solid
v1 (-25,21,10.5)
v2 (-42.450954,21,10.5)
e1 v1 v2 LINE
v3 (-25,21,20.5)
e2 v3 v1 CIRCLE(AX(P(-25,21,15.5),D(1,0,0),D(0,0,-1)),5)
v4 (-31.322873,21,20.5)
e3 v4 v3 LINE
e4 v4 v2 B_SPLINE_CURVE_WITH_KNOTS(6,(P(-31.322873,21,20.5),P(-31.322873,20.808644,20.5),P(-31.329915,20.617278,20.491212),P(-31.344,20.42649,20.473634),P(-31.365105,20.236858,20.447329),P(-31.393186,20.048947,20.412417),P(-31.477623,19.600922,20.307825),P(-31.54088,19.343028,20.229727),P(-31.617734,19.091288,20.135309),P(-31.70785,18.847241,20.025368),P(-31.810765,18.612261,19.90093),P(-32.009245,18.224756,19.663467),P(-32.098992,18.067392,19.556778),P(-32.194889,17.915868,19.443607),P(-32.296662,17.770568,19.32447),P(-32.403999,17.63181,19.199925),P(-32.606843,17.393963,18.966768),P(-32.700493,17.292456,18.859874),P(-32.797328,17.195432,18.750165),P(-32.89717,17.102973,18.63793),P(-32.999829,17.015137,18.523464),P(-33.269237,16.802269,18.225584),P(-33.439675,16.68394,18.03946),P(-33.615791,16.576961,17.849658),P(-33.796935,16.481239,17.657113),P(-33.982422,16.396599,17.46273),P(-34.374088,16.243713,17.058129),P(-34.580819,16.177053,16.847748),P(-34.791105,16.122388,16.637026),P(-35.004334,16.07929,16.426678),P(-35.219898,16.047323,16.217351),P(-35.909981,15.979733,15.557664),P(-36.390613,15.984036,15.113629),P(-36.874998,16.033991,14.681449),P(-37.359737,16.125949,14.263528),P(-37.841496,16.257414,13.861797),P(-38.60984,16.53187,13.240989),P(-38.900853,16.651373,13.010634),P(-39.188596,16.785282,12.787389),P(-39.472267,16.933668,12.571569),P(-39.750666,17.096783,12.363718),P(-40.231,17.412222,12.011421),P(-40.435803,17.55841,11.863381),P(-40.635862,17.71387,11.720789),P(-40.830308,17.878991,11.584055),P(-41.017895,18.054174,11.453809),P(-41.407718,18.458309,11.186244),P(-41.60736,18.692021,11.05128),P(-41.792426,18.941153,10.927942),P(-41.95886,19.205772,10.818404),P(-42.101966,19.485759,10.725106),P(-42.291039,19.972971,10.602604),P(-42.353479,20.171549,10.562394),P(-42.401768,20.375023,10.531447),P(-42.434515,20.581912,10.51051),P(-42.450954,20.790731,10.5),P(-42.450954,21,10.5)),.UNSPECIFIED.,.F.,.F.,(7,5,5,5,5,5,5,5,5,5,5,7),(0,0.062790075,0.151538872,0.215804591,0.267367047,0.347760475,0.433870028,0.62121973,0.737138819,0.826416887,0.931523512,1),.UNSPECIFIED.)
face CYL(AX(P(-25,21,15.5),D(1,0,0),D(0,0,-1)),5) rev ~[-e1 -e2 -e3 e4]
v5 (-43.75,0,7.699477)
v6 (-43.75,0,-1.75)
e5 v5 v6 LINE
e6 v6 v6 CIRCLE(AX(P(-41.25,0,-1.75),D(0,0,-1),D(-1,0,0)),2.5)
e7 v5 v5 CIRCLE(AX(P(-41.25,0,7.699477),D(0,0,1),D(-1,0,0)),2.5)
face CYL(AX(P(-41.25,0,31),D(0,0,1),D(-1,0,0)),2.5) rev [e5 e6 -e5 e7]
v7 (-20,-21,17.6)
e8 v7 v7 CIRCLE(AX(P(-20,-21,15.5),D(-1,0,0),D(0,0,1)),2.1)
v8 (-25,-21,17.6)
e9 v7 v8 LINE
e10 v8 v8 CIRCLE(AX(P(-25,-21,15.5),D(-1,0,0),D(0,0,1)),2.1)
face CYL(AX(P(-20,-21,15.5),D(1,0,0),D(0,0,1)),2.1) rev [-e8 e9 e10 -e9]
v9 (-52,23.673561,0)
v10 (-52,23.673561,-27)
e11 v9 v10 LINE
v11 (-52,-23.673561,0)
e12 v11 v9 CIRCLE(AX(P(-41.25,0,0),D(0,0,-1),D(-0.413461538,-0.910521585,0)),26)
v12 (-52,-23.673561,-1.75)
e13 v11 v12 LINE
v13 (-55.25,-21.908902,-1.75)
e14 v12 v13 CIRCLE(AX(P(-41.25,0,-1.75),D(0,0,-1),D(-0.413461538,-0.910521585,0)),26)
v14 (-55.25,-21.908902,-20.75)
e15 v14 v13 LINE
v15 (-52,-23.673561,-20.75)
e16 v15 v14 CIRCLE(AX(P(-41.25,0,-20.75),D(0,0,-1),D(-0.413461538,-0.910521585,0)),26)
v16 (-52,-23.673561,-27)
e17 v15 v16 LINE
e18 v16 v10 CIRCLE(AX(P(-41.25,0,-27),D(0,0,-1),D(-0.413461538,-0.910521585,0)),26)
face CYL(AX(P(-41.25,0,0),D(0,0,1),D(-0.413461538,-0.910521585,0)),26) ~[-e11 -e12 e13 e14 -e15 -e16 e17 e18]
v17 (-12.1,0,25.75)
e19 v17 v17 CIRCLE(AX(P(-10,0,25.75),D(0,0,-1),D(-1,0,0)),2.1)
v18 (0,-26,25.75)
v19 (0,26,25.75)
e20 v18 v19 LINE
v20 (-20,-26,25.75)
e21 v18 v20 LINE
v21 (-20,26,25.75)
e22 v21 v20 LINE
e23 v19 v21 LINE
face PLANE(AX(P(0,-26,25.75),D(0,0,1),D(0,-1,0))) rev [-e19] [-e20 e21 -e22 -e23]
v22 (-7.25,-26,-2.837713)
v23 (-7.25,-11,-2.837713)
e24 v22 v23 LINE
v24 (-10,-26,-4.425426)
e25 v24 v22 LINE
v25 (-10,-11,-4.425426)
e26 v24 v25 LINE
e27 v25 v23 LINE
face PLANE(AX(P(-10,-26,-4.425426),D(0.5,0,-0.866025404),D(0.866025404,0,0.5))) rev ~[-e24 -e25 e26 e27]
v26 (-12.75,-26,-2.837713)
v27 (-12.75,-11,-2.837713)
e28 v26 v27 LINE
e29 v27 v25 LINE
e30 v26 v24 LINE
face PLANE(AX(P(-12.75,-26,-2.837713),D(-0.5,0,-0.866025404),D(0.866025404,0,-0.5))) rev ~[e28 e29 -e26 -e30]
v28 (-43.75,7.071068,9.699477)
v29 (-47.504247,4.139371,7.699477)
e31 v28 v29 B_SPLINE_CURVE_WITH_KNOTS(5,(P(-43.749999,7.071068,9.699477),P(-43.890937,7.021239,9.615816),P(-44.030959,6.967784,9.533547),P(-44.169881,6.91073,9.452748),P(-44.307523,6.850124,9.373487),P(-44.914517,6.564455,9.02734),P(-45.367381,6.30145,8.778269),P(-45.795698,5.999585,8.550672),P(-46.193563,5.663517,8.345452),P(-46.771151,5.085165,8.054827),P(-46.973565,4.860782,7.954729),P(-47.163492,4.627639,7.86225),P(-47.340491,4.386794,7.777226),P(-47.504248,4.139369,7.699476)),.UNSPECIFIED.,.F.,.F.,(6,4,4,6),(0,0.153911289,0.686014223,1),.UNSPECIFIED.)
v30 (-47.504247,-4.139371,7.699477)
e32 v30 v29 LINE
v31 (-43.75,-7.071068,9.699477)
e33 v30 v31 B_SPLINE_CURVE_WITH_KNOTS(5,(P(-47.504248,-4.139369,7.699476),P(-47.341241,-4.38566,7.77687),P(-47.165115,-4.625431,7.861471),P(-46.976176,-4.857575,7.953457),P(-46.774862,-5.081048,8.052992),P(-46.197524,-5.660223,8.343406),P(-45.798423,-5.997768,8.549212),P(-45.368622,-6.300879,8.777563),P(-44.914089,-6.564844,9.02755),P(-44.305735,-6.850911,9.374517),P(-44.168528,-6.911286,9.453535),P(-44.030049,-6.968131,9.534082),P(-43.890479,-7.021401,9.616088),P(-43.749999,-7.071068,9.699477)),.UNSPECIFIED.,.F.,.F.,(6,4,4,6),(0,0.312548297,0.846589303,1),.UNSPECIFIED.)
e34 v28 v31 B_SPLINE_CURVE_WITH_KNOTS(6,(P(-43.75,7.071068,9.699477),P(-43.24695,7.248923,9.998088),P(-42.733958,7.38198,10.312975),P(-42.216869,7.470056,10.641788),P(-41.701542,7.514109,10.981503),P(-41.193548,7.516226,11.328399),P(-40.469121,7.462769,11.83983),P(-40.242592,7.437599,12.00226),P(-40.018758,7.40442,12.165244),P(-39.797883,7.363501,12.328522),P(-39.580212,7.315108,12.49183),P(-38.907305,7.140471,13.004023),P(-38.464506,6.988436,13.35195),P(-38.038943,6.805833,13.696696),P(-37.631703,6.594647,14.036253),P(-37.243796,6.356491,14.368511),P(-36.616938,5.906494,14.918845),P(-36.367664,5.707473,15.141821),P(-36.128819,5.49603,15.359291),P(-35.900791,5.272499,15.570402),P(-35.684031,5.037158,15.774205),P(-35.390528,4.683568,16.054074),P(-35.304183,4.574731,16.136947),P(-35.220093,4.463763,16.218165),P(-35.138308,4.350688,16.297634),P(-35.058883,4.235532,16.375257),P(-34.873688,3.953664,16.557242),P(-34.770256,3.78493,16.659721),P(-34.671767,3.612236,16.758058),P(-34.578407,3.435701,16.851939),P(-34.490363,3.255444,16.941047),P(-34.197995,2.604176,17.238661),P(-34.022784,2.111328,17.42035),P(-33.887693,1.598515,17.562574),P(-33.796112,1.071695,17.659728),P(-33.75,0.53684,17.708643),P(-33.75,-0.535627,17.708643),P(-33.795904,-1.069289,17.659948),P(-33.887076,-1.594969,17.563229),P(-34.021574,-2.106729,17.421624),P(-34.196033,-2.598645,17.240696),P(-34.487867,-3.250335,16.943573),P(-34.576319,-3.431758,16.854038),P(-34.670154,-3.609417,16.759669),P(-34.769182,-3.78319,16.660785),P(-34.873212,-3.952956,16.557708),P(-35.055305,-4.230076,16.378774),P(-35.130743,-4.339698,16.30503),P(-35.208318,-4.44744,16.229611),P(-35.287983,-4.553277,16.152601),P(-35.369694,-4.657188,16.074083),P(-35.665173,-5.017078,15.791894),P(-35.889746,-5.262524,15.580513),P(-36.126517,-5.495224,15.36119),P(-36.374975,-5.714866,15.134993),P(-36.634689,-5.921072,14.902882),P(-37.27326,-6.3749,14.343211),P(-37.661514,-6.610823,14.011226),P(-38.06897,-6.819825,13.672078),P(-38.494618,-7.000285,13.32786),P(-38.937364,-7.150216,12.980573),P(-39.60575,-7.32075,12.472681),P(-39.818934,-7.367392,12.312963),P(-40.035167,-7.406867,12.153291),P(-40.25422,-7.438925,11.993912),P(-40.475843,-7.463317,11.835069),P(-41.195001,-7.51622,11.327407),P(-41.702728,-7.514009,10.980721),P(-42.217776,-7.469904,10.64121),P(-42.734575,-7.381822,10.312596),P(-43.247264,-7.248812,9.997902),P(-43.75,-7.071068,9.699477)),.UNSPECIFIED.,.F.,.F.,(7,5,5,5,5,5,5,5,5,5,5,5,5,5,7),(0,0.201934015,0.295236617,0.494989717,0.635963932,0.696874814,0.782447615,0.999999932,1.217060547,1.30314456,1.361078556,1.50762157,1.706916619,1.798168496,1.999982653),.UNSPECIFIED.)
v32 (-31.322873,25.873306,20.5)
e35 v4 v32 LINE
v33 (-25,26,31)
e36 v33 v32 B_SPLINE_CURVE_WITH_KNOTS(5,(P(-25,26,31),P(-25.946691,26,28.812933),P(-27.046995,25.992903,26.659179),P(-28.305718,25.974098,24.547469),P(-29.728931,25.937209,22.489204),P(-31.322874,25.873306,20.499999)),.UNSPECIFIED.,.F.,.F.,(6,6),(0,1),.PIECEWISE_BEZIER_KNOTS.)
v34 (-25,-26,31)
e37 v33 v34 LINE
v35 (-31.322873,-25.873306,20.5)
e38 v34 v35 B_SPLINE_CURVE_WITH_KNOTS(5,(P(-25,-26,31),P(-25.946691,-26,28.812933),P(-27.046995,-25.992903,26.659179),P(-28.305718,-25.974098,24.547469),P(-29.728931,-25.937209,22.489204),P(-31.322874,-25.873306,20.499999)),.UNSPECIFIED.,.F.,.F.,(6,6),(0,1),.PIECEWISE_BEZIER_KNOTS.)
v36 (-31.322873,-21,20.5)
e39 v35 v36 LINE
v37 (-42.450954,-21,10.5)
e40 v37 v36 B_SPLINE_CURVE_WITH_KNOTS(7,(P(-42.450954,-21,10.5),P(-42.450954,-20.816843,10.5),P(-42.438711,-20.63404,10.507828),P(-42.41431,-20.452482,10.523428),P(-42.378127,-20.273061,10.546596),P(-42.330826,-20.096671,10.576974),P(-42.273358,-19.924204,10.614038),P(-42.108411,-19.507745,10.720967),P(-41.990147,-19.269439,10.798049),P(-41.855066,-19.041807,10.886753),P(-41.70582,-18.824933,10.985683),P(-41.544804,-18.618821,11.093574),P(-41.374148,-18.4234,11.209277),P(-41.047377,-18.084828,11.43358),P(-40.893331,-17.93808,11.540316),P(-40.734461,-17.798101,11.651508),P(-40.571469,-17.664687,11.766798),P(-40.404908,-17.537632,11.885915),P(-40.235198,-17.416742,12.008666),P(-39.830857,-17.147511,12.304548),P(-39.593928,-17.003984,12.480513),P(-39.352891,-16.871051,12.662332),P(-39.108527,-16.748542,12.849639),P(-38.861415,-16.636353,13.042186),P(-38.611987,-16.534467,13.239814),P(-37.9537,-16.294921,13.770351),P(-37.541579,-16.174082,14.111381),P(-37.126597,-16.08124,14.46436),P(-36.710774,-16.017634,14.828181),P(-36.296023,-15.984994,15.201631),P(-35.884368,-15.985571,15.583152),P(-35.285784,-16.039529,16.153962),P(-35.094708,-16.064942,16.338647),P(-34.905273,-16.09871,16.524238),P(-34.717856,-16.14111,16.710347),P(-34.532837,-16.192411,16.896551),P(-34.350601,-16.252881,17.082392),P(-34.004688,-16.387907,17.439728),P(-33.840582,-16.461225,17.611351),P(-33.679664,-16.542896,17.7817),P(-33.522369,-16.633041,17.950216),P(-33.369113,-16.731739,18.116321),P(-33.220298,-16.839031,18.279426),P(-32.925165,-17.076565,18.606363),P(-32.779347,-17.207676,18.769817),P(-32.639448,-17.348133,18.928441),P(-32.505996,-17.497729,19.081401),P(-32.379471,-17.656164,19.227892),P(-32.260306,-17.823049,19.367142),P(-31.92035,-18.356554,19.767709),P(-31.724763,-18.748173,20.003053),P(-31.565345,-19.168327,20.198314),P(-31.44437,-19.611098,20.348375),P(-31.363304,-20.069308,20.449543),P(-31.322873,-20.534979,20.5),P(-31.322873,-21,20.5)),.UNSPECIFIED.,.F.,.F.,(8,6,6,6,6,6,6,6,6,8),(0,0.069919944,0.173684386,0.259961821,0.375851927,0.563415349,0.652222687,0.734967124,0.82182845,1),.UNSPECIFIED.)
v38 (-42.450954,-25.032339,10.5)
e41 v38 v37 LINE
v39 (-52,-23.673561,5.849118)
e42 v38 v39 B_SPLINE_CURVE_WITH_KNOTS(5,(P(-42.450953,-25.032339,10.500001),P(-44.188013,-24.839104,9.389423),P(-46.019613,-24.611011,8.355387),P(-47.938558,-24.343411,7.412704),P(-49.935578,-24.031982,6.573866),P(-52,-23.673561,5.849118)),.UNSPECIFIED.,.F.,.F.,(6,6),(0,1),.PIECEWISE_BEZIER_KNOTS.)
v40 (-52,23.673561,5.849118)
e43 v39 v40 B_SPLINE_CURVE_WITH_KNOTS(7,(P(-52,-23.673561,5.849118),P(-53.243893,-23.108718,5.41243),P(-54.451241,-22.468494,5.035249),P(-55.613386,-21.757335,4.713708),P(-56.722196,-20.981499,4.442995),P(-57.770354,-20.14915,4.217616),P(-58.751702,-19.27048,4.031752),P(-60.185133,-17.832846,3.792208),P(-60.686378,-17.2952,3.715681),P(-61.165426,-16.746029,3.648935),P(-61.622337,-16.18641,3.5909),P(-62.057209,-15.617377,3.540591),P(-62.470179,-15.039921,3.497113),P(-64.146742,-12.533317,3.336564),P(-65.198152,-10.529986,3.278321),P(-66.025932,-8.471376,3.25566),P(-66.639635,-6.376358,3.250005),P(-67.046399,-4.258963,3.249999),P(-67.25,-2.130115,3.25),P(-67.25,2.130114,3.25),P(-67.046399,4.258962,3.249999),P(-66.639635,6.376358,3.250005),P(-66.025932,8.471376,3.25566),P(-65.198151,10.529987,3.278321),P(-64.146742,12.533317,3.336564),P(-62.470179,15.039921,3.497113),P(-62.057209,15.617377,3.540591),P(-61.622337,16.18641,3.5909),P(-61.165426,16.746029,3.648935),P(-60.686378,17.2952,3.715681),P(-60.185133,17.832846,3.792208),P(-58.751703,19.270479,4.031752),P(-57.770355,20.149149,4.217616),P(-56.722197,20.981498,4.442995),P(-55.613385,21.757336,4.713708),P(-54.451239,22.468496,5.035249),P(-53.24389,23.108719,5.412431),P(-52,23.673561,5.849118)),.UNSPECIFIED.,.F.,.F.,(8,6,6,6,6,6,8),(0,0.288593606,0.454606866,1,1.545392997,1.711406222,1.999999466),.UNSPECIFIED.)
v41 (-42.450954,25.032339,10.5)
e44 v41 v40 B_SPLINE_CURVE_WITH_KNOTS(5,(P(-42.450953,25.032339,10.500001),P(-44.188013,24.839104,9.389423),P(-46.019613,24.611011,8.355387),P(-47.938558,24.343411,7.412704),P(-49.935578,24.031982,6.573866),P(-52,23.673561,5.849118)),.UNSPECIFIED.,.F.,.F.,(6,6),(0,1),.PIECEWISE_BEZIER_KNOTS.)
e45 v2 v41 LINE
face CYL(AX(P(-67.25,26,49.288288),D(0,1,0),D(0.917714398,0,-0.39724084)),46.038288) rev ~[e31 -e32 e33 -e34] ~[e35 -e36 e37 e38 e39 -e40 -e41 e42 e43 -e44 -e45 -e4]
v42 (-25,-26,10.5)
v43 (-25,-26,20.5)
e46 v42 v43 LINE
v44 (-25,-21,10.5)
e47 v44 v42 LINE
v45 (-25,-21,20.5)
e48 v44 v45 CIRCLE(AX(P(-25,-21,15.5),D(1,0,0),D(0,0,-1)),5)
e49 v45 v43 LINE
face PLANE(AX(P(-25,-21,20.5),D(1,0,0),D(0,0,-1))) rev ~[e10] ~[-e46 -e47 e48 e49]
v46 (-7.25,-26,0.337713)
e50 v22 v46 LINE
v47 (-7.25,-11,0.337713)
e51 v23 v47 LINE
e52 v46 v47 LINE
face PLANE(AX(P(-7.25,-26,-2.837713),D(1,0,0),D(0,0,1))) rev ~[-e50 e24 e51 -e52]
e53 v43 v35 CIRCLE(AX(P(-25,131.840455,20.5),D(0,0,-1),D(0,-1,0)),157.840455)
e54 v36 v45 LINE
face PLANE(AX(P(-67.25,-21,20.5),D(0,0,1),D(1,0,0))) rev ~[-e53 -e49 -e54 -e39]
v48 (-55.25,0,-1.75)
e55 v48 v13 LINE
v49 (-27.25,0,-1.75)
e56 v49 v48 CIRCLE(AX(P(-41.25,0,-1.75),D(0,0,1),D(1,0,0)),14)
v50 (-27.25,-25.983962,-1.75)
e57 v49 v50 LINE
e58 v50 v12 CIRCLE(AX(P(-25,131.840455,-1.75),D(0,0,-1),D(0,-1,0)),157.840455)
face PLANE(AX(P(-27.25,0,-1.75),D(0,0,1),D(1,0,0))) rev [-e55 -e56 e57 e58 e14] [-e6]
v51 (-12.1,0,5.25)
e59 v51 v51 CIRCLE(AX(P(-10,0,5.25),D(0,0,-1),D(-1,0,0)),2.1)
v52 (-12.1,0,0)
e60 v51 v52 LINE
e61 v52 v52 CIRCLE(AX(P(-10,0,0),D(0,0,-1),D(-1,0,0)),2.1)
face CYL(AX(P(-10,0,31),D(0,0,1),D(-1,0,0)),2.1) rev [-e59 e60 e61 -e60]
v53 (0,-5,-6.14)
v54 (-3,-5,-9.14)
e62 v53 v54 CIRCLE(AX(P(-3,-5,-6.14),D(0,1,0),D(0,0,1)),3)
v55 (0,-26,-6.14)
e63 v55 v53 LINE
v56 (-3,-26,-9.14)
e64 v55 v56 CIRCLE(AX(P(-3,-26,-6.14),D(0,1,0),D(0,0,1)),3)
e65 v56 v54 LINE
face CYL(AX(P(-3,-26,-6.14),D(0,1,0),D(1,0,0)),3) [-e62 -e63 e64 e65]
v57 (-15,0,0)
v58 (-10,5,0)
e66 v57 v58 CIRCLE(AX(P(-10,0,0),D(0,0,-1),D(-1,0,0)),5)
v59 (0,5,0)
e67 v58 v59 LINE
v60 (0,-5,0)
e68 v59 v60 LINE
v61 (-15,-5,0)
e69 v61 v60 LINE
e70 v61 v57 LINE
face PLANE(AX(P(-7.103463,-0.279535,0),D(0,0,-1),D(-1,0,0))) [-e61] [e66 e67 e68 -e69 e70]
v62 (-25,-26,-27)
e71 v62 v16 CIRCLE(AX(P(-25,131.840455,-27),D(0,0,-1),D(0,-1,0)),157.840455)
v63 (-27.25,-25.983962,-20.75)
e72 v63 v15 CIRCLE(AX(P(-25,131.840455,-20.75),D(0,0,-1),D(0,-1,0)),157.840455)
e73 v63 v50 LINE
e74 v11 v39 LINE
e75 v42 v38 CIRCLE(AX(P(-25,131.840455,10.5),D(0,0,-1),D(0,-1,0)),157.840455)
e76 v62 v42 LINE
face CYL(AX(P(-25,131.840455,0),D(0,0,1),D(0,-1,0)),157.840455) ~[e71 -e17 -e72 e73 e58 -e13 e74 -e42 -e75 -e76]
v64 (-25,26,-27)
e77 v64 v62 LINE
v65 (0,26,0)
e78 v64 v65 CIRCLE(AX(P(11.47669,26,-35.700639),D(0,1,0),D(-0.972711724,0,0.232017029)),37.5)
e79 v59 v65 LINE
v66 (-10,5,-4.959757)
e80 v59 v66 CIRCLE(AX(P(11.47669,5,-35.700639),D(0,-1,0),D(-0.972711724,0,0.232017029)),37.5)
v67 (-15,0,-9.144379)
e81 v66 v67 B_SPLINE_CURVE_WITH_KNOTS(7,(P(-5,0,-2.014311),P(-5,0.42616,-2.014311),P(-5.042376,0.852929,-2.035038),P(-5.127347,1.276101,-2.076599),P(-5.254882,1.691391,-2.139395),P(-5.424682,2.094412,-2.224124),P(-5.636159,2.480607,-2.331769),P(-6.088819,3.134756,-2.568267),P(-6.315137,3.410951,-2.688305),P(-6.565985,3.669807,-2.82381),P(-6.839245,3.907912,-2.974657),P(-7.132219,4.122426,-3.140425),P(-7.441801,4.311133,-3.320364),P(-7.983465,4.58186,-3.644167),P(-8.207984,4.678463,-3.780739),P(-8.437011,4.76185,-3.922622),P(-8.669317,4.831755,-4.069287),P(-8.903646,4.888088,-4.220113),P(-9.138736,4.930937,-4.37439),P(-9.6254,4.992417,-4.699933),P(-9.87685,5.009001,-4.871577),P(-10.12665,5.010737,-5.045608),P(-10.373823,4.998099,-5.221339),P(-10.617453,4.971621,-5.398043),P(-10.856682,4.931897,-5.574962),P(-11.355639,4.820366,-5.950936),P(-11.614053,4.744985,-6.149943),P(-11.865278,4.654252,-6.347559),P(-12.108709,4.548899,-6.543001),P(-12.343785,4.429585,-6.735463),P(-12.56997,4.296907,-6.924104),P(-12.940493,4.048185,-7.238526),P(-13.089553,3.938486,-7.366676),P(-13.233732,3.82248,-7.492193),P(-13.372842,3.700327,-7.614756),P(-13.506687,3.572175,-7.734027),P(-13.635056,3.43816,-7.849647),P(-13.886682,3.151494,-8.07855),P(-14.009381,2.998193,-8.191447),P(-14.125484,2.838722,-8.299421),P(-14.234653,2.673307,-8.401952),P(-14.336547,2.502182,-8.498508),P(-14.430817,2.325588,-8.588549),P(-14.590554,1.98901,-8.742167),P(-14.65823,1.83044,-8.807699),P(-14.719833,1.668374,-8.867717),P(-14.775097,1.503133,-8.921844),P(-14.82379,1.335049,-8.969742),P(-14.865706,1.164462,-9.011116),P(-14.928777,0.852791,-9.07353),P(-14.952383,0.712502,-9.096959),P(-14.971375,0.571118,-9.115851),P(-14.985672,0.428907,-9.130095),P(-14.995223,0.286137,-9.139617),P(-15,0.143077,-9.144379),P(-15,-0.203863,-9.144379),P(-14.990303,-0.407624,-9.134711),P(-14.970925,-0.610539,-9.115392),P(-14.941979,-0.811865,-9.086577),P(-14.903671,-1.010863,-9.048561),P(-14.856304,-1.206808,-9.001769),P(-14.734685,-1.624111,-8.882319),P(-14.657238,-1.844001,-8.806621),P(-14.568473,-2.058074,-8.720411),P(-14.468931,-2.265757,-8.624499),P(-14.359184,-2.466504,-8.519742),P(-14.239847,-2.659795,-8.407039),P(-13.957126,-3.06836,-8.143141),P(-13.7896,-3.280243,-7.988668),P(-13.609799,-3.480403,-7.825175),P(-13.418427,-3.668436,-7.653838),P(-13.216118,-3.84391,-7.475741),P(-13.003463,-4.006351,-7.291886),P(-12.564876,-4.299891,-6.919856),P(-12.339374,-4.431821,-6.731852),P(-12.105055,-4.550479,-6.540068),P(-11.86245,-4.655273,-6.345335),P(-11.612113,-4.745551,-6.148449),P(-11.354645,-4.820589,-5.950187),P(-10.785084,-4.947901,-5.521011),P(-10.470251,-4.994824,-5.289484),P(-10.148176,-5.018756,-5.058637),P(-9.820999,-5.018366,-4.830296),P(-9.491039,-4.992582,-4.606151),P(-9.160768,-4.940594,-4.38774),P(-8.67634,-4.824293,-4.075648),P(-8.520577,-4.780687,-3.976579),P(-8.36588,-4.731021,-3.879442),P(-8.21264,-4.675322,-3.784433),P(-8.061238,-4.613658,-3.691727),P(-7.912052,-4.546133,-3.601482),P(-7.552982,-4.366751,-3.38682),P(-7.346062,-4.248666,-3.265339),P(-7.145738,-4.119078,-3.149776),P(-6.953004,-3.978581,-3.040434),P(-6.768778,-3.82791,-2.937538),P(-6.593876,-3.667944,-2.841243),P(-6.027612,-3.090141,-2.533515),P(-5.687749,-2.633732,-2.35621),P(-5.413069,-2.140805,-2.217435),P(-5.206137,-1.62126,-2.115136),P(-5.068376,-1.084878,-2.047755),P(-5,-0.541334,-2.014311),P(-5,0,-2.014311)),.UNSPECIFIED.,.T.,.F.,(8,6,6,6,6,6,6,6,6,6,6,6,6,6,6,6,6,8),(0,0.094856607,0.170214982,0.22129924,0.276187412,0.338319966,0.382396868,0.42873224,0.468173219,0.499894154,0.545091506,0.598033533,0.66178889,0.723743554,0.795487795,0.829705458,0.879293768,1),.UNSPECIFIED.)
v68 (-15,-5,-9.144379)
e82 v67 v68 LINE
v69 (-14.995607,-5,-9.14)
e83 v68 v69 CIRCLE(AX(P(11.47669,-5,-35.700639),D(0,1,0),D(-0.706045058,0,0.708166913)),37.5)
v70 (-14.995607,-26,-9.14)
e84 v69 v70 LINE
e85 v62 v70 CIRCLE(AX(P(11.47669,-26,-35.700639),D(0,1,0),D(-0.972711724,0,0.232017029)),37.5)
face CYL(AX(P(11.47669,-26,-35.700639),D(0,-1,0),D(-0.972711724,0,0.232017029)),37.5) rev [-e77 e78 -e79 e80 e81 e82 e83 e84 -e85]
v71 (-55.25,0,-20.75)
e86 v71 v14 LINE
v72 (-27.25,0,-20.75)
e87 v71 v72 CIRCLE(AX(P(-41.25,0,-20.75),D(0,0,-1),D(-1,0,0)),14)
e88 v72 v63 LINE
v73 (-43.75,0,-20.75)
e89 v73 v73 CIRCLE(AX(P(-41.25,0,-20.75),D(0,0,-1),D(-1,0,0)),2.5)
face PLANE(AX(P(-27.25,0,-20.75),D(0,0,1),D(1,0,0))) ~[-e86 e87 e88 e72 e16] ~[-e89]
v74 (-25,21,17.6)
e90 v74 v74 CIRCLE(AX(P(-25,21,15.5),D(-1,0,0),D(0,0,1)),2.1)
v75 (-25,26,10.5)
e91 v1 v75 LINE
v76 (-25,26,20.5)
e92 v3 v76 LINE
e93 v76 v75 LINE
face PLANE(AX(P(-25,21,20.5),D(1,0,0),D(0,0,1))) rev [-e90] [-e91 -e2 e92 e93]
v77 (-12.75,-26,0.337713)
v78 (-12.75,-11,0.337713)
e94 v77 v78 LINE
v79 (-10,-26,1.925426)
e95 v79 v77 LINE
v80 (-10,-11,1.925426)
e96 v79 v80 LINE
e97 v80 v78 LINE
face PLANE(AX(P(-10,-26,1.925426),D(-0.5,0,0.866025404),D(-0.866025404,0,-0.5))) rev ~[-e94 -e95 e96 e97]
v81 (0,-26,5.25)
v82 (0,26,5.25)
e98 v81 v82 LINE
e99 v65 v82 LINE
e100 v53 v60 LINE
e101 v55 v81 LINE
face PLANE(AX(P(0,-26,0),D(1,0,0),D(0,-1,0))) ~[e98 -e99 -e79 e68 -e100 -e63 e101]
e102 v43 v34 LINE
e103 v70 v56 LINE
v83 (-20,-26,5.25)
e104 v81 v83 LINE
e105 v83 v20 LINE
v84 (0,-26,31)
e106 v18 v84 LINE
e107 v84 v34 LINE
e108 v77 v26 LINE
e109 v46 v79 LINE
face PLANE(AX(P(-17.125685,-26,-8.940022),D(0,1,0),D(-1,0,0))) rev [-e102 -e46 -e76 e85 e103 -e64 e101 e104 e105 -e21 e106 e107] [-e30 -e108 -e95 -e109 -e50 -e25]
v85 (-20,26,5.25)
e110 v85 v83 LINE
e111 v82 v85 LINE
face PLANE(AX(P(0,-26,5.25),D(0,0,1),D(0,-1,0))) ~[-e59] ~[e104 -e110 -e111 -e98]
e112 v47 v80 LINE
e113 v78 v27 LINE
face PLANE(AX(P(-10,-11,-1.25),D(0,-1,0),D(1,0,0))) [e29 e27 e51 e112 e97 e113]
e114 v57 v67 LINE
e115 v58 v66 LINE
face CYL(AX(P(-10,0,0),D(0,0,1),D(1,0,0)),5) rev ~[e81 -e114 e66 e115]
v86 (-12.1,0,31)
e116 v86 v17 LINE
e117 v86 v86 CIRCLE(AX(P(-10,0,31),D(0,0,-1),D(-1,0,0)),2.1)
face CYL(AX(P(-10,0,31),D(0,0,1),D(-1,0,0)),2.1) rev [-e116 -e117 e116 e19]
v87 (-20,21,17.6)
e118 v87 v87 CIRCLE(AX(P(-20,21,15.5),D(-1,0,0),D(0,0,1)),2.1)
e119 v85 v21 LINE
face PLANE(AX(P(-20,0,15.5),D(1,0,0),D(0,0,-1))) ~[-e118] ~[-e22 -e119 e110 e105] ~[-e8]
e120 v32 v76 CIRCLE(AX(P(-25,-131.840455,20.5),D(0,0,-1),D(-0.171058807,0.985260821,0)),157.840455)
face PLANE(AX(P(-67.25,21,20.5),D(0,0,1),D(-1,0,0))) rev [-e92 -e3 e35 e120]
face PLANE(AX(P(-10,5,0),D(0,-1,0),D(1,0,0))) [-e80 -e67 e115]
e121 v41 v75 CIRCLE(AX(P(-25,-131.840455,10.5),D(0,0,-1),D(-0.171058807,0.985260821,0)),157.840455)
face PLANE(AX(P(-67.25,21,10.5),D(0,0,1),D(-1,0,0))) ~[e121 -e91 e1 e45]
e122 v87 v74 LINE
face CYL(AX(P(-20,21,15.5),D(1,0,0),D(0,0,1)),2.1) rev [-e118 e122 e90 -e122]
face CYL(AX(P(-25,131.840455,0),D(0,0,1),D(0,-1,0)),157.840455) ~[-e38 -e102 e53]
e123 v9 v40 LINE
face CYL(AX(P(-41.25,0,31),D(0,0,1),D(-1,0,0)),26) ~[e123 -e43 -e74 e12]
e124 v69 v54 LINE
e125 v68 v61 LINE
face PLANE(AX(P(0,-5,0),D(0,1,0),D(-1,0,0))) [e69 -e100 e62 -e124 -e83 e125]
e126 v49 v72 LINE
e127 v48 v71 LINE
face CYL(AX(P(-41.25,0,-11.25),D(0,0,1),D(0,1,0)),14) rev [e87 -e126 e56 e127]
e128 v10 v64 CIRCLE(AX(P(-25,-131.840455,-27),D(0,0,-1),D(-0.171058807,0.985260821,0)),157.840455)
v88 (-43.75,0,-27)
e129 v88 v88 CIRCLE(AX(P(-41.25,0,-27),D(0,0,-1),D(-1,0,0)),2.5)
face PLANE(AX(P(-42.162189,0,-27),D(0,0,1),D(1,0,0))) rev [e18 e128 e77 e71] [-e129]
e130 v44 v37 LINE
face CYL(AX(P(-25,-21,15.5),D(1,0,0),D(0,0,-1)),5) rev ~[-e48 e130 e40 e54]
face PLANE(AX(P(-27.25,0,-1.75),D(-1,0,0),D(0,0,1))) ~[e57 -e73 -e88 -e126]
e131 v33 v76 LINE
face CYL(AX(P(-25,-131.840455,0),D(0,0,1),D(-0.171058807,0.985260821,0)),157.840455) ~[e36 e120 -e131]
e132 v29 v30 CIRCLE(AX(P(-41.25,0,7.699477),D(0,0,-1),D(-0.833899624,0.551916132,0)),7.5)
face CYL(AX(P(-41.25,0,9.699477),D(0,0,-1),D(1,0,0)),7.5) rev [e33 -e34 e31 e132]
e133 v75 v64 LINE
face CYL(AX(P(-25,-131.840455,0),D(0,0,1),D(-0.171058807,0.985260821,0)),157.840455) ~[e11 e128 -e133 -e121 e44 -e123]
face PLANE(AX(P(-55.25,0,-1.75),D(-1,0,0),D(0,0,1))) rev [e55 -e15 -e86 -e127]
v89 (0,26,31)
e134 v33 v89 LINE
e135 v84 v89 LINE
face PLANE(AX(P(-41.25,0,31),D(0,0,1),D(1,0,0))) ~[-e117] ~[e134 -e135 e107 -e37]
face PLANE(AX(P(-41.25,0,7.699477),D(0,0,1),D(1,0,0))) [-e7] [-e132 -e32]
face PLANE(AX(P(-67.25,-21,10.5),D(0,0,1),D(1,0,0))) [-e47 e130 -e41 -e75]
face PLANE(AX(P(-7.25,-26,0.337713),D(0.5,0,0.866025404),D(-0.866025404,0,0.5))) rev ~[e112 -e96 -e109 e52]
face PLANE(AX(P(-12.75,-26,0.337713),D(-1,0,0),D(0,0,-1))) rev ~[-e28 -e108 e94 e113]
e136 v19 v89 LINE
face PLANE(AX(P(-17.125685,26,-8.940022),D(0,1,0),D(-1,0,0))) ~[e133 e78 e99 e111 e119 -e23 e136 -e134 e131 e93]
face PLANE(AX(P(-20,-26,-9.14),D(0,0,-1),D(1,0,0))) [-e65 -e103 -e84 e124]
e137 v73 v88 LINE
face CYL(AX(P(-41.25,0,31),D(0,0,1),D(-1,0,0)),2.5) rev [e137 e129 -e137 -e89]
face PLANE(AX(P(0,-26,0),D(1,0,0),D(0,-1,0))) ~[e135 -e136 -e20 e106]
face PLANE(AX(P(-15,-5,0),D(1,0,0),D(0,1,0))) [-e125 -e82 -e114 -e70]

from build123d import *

# Parameters (mm, degrees)
SKETCH_1_W              = 52
SKETCH_1_H              = 52
EXTRUDE_1_DEPTH         = 31
SKETCH_2_W              = 20.5
SKETCH_2_H              = 52
CUT_EXTRUDE_1_DEPTH     = 20
SKETCH_5_R              = 26
EXTRUDE_2_DEPTH         = 31
CUT_EXTRUDE_2_DEPTH     = 32
SKETCH_7_W              = 20
SKETCH_7_H              = 20.5
CUT_EXTRUDE_3_DEPTH     = 53
EXTRUDE_3_DEPTH         = 27
SKETCH_10_W             = 19
SKETCH_10_H             = 14
SKETCH_11_W             = 19
SKETCH_11_H             = 28
CUT_EXTRUDE_4_DEPTH     = 27
EXTRUDE_4_DEPTH         = 52
SKETCH_13_R             = 2.1
CUT_EXTRUDE_5_DEPTH     = 59
SKETCH_14_R             = 2.1
CUT_EXTRUDE_6_DEPTH     = 48.25
SKETCH_15_R             = 5
CUT_EXTRUDE_7_DEPTH     = 43.2500001
SKETCH_17_W             = 10
SKETCH_17_H             = 42.25
CUT_EXTRUDE_8_DEPTH     = 6.0000001
SKETCH_18_R             = 5
CUT_EXTRUDE_9_DEPTH     = 28.0000001
SKETCH_19_R             = 2.5
CUT_EXTRUDE_10_DEPTH    = 59.0000001
CUT_EXTRUDE1_DEPTH      = 53.0000001
SKETCH3_R               = 7.5
CUT_EXTRUDE2_DEPTH      = 22.300523217
CUT_EXTRUDE2_DEPTH_BACK = 2
CUT_EXTRUDE_12_DEPTH    = 28.0000001
SKETCH_20_W             = 20
SKETCH_20_H             = 14.39
EXTRUDE_5_DEPTH         = 21
CUT_EXTRUDE_11_DEPTH    = 15
FILLET_1_R              = 3


with BuildPart() as part:
    # Эскиз1 → Бобышка-Вытянуть1 (new body)
    with BuildSketch(Plane.XY):
        with Locations((26, 0)):
            Rectangle(SKETCH_1_W, SKETCH_1_H)
    extrude(amount=EXTRUDE_1_DEPTH)

    # Эскиз2 → Вырез-Вытянуть1 (cut)
    with BuildSketch(Plane.ZY):
        with Locations((15.5, 0)):
            Rectangle(SKETCH_2_W, SKETCH_2_H)
    extrude(amount=-CUT_EXTRUDE_1_DEPTH, mode=Mode.SUBTRACT)

    # Эскиз5 → Бобышка-Вытянуть2 (add)
    with BuildSketch(Plane.XY.offset(31)):
        with Locations((41.25, 0)):
            Circle(SKETCH_5_R)
    extrude(amount=-EXTRUDE_2_DEPTH)

    # Эскиз6 → Вырез-Вытянуть2 (cut, through all)
    with BuildSketch(Plane.XY.offset(31)):
        with BuildLine():
            Line((52, 23.673561202), (52, 26))
            Line((52, 26), (25, 26))
            ThreePointArc((25, 26), (38.550021379, 25.417314778), (52, 23.673561202))
        make_face()
    cut_extrude_2 = extrude(amount=-CUT_EXTRUDE_2_DEPTH, mode=Mode.SUBTRACT)

    # Зеркальное отражение1: Вырез-Вытянуть2 across plane
    add(cut_extrude_2.mirror(Plane(origin=(0, 0, 0), x_dir=(0, 0, 1), z_dir=(0, -1, 0))), mode=Mode.SUBTRACT)

    # Эскиз7 → Вырез-Вытянуть3 (cut, through all)
    with BuildSketch(Plane(origin=(0, 26, 0), x_dir=(1, 0, 0), z_dir=(0, 1, 0))):
        with Locations((10, -15.5)):
            Rectangle(SKETCH_7_W, SKETCH_7_H)
    extrude(amount=-CUT_EXTRUDE_3_DEPTH, mode=Mode.SUBTRACT)

    # Эскиз9 → Бобышка-Вытянуть3 (add)
    with BuildSketch(Plane(origin=(0, 0, 0), x_dir=(-1, 0, 0), z_dir=(0, 0, -1))):
        with BuildLine():
            Line((-25, 26), (-25, -26))
            ThreePointArc((-25, -26), (-38.550021379, -25.417314778), (-52, -23.673561202))
            ThreePointArc((-52, -23.673561202), (-67.25, 0), (-52, 23.673561202))
            ThreePointArc((-52, 23.673561202), (-38.550021379, 25.417314778), (-25, 26))
        make_face()
    extrude(amount=EXTRUDE_3_DEPTH)

    # Эскиз10 → Вырез-Повернуть2 (revolve, cut)
    with BuildSketch(Plane.ZY.offset(-41.25)):
        with Locations((-11.25, 7)):
            Rectangle(SKETCH_10_W, SKETCH_10_H)
    revolve(axis=Axis((41.25, 0, -20.75), (0, 0, 1)), mode=Mode.SUBTRACT)

    # Эскиз11 → Вырез-Вытянуть4 (cut, through all)
    with BuildSketch(Plane(origin=(0, 0, 0), x_dir=(0, 0, -1), z_dir=(0, -1, 0))):
        with Locations((11.25, 41.25)):
            Rectangle(SKETCH_11_W, SKETCH_11_H)
    extrude(amount=CUT_EXTRUDE_4_DEPTH, mode=Mode.SUBTRACT)

    # Эскиз12 → Бобышка-Вытянуть4 (add)
    with BuildSketch(Plane.XZ.offset(26)):
        with BuildLine():
            Line((0, 0), (25, 0))
            Line((25, 0), (25, -27))
            ThreePointArc((25, -27), (16.039335617, -10.222837391), (0, 0))
        make_face()
    extrude(amount=-EXTRUDE_4_DEPTH)

    # Эскиз13 → Вырез-Вытянуть5 (cut, through all)
    with BuildSketch(Plane.XY.offset(31)):
        with Locations((10, 0)):
            Circle(SKETCH_13_R)
    extrude(amount=-CUT_EXTRUDE_5_DEPTH, mode=Mode.SUBTRACT)

    # Эскиз14 → Вырез-Вытянуть6 (cut, through all)
    with BuildSketch(Plane.ZY.offset(-20)):
        with Locations((15.5, -21)):
            Circle(SKETCH_14_R)
        with Locations((15.5, 21)):
            Circle(SKETCH_14_R)
    extrude(amount=-CUT_EXTRUDE_6_DEPTH, mode=Mode.SUBTRACT)

    # Эскиз15 → Вырез-Вытянуть7 (cut, through all)
    with BuildSketch(Plane(origin=(25, 0, 0), x_dir=(0, 0, -1), z_dir=(1, 0, 0))):
        with Locations((-15.5, 21)):
            Circle(SKETCH_15_R)
        with Locations((-15.5, -21)):
            Circle(SKETCH_15_R)
    extrude(amount=CUT_EXTRUDE_7_DEPTH, mode=Mode.SUBTRACT)

    # Эскиз17 → Вырез-Вытянуть8 (cut, through all)
    with BuildSketch(Plane(origin=(0, 21, 0), x_dir=(0, 0, -1), z_dir=(0, 1, 0))):
        with Locations((-15.5, -46.125)):
            Rectangle(SKETCH_17_W, SKETCH_17_H)
    cut_extrude_8 = extrude(amount=CUT_EXTRUDE_8_DEPTH, mode=Mode.SUBTRACT)

    # Зеркальное отражение2: Вырез-Вытянуть8 across plane
    add(cut_extrude_8.mirror(Plane(origin=(0, 0, 0), x_dir=(0, 0, 1), z_dir=(0, -1, 0))), mode=Mode.SUBTRACT)

    # Эскиз18 → Вырез-Вытянуть9 (cut, through all)
    with BuildSketch(Plane(origin=(0, 0, 0), x_dir=(-1, 0, 0), z_dir=(0, 0, -1))):
        with Locations((-10, 0)):
            Circle(SKETCH_18_R)
    extrude(amount=CUT_EXTRUDE_9_DEPTH, mode=Mode.SUBTRACT)

    # Эскиз19 → Вырез-Вытянуть10 (cut, through all)
    with BuildSketch(Plane.XY.offset(31)):
        with Locations((41.25, 0)):
            Circle(SKETCH_19_R)
    extrude(amount=-CUT_EXTRUDE_10_DEPTH, mode=Mode.SUBTRACT)


with BuildPart() as body_2:
    # Зеркальное отражение3: mirrored copy
    add(part.part.mirror(Plane.ZY))

    # Sketch1 → Cut-Extrude1 (cut, through all)
    with BuildSketch(Plane(origin=(0, 26, 0), x_dir=(1, 0, 0), z_dir=(0, 1, 0))):
        with BuildLine():
            Line((-67.25, -31), (-25, -31))
            ThreePointArc((-25, -31), (-41.975877859, -10.807868092), (-67.25, -3.25))
            Line((-67.25, -3.25), (-67.25, -31))
        make_face()
    extrude(amount=-CUT_EXTRUDE1_DEPTH, mode=Mode.SUBTRACT)

    # Sketch3 → Cut-Extrude2 (cut, two sides)
    with BuildSketch(Plane.XY.offset(9.699476883)) as cut_extrude2_sk:
        with Locations((-41.25, 0)):
            Circle(SKETCH3_R)
    extrude(amount=CUT_EXTRUDE2_DEPTH, mode=Mode.SUBTRACT)
    extrude(cut_extrude2_sk.sketch, amount=-CUT_EXTRUDE2_DEPTH_BACK, mode=Mode.SUBTRACT)

    # Эскиз23 → Вырез-Вытянуть12 (cut, through all)
    with BuildSketch(Plane(origin=(0, 0, 0), x_dir=(-1, 0, 0), z_dir=(0, 0, -1))):
        with BuildLine():
            Line((10, 5), (0, 5))
            Line((0, 5), (0, -5))
            Line((0, -5), (10, -5))
            Line((10, -5), (15, -5))
            Line((15, -5), (15, 0))
            ThreePointArc((15, 0), (13.535533906, 3.535533906), (10, 5))
        make_face()
    extrude(amount=CUT_EXTRUDE_12_DEPTH, mode=Mode.SUBTRACT)

    # Эскиз20 → Бобышка-Вытянуть5 (add)
    with BuildSketch(Plane.XZ.offset(26)):
        with Locations((-10, -1.945)):
            Rectangle(SKETCH_20_W, SKETCH_20_H)
    extrude(amount=-EXTRUDE_5_DEPTH)

    # Эскиз22 → Вырез-Вытянуть11 (cut)
    with BuildSketch(Plane.XZ.offset(26)):
        Polygon((-10, 1.925426481), (-12.75, 0.33771324), (-12.75, -2.83771324), (-10, -4.425426481), (-7.25, -2.83771324), (-7.25, 0.33771324), align=None)
    extrude(amount=-CUT_EXTRUDE_11_DEPTH, mode=Mode.SUBTRACT)

    # Скругление1
    fillet_1_edges = [body_2.edges().sort_by_distance(p)[0] for p in [
        (0, -15.5, -9.14),
    ]]
    fillet(fillet_1_edges, radius=FILLET_1_R)


solid = body_2.part
